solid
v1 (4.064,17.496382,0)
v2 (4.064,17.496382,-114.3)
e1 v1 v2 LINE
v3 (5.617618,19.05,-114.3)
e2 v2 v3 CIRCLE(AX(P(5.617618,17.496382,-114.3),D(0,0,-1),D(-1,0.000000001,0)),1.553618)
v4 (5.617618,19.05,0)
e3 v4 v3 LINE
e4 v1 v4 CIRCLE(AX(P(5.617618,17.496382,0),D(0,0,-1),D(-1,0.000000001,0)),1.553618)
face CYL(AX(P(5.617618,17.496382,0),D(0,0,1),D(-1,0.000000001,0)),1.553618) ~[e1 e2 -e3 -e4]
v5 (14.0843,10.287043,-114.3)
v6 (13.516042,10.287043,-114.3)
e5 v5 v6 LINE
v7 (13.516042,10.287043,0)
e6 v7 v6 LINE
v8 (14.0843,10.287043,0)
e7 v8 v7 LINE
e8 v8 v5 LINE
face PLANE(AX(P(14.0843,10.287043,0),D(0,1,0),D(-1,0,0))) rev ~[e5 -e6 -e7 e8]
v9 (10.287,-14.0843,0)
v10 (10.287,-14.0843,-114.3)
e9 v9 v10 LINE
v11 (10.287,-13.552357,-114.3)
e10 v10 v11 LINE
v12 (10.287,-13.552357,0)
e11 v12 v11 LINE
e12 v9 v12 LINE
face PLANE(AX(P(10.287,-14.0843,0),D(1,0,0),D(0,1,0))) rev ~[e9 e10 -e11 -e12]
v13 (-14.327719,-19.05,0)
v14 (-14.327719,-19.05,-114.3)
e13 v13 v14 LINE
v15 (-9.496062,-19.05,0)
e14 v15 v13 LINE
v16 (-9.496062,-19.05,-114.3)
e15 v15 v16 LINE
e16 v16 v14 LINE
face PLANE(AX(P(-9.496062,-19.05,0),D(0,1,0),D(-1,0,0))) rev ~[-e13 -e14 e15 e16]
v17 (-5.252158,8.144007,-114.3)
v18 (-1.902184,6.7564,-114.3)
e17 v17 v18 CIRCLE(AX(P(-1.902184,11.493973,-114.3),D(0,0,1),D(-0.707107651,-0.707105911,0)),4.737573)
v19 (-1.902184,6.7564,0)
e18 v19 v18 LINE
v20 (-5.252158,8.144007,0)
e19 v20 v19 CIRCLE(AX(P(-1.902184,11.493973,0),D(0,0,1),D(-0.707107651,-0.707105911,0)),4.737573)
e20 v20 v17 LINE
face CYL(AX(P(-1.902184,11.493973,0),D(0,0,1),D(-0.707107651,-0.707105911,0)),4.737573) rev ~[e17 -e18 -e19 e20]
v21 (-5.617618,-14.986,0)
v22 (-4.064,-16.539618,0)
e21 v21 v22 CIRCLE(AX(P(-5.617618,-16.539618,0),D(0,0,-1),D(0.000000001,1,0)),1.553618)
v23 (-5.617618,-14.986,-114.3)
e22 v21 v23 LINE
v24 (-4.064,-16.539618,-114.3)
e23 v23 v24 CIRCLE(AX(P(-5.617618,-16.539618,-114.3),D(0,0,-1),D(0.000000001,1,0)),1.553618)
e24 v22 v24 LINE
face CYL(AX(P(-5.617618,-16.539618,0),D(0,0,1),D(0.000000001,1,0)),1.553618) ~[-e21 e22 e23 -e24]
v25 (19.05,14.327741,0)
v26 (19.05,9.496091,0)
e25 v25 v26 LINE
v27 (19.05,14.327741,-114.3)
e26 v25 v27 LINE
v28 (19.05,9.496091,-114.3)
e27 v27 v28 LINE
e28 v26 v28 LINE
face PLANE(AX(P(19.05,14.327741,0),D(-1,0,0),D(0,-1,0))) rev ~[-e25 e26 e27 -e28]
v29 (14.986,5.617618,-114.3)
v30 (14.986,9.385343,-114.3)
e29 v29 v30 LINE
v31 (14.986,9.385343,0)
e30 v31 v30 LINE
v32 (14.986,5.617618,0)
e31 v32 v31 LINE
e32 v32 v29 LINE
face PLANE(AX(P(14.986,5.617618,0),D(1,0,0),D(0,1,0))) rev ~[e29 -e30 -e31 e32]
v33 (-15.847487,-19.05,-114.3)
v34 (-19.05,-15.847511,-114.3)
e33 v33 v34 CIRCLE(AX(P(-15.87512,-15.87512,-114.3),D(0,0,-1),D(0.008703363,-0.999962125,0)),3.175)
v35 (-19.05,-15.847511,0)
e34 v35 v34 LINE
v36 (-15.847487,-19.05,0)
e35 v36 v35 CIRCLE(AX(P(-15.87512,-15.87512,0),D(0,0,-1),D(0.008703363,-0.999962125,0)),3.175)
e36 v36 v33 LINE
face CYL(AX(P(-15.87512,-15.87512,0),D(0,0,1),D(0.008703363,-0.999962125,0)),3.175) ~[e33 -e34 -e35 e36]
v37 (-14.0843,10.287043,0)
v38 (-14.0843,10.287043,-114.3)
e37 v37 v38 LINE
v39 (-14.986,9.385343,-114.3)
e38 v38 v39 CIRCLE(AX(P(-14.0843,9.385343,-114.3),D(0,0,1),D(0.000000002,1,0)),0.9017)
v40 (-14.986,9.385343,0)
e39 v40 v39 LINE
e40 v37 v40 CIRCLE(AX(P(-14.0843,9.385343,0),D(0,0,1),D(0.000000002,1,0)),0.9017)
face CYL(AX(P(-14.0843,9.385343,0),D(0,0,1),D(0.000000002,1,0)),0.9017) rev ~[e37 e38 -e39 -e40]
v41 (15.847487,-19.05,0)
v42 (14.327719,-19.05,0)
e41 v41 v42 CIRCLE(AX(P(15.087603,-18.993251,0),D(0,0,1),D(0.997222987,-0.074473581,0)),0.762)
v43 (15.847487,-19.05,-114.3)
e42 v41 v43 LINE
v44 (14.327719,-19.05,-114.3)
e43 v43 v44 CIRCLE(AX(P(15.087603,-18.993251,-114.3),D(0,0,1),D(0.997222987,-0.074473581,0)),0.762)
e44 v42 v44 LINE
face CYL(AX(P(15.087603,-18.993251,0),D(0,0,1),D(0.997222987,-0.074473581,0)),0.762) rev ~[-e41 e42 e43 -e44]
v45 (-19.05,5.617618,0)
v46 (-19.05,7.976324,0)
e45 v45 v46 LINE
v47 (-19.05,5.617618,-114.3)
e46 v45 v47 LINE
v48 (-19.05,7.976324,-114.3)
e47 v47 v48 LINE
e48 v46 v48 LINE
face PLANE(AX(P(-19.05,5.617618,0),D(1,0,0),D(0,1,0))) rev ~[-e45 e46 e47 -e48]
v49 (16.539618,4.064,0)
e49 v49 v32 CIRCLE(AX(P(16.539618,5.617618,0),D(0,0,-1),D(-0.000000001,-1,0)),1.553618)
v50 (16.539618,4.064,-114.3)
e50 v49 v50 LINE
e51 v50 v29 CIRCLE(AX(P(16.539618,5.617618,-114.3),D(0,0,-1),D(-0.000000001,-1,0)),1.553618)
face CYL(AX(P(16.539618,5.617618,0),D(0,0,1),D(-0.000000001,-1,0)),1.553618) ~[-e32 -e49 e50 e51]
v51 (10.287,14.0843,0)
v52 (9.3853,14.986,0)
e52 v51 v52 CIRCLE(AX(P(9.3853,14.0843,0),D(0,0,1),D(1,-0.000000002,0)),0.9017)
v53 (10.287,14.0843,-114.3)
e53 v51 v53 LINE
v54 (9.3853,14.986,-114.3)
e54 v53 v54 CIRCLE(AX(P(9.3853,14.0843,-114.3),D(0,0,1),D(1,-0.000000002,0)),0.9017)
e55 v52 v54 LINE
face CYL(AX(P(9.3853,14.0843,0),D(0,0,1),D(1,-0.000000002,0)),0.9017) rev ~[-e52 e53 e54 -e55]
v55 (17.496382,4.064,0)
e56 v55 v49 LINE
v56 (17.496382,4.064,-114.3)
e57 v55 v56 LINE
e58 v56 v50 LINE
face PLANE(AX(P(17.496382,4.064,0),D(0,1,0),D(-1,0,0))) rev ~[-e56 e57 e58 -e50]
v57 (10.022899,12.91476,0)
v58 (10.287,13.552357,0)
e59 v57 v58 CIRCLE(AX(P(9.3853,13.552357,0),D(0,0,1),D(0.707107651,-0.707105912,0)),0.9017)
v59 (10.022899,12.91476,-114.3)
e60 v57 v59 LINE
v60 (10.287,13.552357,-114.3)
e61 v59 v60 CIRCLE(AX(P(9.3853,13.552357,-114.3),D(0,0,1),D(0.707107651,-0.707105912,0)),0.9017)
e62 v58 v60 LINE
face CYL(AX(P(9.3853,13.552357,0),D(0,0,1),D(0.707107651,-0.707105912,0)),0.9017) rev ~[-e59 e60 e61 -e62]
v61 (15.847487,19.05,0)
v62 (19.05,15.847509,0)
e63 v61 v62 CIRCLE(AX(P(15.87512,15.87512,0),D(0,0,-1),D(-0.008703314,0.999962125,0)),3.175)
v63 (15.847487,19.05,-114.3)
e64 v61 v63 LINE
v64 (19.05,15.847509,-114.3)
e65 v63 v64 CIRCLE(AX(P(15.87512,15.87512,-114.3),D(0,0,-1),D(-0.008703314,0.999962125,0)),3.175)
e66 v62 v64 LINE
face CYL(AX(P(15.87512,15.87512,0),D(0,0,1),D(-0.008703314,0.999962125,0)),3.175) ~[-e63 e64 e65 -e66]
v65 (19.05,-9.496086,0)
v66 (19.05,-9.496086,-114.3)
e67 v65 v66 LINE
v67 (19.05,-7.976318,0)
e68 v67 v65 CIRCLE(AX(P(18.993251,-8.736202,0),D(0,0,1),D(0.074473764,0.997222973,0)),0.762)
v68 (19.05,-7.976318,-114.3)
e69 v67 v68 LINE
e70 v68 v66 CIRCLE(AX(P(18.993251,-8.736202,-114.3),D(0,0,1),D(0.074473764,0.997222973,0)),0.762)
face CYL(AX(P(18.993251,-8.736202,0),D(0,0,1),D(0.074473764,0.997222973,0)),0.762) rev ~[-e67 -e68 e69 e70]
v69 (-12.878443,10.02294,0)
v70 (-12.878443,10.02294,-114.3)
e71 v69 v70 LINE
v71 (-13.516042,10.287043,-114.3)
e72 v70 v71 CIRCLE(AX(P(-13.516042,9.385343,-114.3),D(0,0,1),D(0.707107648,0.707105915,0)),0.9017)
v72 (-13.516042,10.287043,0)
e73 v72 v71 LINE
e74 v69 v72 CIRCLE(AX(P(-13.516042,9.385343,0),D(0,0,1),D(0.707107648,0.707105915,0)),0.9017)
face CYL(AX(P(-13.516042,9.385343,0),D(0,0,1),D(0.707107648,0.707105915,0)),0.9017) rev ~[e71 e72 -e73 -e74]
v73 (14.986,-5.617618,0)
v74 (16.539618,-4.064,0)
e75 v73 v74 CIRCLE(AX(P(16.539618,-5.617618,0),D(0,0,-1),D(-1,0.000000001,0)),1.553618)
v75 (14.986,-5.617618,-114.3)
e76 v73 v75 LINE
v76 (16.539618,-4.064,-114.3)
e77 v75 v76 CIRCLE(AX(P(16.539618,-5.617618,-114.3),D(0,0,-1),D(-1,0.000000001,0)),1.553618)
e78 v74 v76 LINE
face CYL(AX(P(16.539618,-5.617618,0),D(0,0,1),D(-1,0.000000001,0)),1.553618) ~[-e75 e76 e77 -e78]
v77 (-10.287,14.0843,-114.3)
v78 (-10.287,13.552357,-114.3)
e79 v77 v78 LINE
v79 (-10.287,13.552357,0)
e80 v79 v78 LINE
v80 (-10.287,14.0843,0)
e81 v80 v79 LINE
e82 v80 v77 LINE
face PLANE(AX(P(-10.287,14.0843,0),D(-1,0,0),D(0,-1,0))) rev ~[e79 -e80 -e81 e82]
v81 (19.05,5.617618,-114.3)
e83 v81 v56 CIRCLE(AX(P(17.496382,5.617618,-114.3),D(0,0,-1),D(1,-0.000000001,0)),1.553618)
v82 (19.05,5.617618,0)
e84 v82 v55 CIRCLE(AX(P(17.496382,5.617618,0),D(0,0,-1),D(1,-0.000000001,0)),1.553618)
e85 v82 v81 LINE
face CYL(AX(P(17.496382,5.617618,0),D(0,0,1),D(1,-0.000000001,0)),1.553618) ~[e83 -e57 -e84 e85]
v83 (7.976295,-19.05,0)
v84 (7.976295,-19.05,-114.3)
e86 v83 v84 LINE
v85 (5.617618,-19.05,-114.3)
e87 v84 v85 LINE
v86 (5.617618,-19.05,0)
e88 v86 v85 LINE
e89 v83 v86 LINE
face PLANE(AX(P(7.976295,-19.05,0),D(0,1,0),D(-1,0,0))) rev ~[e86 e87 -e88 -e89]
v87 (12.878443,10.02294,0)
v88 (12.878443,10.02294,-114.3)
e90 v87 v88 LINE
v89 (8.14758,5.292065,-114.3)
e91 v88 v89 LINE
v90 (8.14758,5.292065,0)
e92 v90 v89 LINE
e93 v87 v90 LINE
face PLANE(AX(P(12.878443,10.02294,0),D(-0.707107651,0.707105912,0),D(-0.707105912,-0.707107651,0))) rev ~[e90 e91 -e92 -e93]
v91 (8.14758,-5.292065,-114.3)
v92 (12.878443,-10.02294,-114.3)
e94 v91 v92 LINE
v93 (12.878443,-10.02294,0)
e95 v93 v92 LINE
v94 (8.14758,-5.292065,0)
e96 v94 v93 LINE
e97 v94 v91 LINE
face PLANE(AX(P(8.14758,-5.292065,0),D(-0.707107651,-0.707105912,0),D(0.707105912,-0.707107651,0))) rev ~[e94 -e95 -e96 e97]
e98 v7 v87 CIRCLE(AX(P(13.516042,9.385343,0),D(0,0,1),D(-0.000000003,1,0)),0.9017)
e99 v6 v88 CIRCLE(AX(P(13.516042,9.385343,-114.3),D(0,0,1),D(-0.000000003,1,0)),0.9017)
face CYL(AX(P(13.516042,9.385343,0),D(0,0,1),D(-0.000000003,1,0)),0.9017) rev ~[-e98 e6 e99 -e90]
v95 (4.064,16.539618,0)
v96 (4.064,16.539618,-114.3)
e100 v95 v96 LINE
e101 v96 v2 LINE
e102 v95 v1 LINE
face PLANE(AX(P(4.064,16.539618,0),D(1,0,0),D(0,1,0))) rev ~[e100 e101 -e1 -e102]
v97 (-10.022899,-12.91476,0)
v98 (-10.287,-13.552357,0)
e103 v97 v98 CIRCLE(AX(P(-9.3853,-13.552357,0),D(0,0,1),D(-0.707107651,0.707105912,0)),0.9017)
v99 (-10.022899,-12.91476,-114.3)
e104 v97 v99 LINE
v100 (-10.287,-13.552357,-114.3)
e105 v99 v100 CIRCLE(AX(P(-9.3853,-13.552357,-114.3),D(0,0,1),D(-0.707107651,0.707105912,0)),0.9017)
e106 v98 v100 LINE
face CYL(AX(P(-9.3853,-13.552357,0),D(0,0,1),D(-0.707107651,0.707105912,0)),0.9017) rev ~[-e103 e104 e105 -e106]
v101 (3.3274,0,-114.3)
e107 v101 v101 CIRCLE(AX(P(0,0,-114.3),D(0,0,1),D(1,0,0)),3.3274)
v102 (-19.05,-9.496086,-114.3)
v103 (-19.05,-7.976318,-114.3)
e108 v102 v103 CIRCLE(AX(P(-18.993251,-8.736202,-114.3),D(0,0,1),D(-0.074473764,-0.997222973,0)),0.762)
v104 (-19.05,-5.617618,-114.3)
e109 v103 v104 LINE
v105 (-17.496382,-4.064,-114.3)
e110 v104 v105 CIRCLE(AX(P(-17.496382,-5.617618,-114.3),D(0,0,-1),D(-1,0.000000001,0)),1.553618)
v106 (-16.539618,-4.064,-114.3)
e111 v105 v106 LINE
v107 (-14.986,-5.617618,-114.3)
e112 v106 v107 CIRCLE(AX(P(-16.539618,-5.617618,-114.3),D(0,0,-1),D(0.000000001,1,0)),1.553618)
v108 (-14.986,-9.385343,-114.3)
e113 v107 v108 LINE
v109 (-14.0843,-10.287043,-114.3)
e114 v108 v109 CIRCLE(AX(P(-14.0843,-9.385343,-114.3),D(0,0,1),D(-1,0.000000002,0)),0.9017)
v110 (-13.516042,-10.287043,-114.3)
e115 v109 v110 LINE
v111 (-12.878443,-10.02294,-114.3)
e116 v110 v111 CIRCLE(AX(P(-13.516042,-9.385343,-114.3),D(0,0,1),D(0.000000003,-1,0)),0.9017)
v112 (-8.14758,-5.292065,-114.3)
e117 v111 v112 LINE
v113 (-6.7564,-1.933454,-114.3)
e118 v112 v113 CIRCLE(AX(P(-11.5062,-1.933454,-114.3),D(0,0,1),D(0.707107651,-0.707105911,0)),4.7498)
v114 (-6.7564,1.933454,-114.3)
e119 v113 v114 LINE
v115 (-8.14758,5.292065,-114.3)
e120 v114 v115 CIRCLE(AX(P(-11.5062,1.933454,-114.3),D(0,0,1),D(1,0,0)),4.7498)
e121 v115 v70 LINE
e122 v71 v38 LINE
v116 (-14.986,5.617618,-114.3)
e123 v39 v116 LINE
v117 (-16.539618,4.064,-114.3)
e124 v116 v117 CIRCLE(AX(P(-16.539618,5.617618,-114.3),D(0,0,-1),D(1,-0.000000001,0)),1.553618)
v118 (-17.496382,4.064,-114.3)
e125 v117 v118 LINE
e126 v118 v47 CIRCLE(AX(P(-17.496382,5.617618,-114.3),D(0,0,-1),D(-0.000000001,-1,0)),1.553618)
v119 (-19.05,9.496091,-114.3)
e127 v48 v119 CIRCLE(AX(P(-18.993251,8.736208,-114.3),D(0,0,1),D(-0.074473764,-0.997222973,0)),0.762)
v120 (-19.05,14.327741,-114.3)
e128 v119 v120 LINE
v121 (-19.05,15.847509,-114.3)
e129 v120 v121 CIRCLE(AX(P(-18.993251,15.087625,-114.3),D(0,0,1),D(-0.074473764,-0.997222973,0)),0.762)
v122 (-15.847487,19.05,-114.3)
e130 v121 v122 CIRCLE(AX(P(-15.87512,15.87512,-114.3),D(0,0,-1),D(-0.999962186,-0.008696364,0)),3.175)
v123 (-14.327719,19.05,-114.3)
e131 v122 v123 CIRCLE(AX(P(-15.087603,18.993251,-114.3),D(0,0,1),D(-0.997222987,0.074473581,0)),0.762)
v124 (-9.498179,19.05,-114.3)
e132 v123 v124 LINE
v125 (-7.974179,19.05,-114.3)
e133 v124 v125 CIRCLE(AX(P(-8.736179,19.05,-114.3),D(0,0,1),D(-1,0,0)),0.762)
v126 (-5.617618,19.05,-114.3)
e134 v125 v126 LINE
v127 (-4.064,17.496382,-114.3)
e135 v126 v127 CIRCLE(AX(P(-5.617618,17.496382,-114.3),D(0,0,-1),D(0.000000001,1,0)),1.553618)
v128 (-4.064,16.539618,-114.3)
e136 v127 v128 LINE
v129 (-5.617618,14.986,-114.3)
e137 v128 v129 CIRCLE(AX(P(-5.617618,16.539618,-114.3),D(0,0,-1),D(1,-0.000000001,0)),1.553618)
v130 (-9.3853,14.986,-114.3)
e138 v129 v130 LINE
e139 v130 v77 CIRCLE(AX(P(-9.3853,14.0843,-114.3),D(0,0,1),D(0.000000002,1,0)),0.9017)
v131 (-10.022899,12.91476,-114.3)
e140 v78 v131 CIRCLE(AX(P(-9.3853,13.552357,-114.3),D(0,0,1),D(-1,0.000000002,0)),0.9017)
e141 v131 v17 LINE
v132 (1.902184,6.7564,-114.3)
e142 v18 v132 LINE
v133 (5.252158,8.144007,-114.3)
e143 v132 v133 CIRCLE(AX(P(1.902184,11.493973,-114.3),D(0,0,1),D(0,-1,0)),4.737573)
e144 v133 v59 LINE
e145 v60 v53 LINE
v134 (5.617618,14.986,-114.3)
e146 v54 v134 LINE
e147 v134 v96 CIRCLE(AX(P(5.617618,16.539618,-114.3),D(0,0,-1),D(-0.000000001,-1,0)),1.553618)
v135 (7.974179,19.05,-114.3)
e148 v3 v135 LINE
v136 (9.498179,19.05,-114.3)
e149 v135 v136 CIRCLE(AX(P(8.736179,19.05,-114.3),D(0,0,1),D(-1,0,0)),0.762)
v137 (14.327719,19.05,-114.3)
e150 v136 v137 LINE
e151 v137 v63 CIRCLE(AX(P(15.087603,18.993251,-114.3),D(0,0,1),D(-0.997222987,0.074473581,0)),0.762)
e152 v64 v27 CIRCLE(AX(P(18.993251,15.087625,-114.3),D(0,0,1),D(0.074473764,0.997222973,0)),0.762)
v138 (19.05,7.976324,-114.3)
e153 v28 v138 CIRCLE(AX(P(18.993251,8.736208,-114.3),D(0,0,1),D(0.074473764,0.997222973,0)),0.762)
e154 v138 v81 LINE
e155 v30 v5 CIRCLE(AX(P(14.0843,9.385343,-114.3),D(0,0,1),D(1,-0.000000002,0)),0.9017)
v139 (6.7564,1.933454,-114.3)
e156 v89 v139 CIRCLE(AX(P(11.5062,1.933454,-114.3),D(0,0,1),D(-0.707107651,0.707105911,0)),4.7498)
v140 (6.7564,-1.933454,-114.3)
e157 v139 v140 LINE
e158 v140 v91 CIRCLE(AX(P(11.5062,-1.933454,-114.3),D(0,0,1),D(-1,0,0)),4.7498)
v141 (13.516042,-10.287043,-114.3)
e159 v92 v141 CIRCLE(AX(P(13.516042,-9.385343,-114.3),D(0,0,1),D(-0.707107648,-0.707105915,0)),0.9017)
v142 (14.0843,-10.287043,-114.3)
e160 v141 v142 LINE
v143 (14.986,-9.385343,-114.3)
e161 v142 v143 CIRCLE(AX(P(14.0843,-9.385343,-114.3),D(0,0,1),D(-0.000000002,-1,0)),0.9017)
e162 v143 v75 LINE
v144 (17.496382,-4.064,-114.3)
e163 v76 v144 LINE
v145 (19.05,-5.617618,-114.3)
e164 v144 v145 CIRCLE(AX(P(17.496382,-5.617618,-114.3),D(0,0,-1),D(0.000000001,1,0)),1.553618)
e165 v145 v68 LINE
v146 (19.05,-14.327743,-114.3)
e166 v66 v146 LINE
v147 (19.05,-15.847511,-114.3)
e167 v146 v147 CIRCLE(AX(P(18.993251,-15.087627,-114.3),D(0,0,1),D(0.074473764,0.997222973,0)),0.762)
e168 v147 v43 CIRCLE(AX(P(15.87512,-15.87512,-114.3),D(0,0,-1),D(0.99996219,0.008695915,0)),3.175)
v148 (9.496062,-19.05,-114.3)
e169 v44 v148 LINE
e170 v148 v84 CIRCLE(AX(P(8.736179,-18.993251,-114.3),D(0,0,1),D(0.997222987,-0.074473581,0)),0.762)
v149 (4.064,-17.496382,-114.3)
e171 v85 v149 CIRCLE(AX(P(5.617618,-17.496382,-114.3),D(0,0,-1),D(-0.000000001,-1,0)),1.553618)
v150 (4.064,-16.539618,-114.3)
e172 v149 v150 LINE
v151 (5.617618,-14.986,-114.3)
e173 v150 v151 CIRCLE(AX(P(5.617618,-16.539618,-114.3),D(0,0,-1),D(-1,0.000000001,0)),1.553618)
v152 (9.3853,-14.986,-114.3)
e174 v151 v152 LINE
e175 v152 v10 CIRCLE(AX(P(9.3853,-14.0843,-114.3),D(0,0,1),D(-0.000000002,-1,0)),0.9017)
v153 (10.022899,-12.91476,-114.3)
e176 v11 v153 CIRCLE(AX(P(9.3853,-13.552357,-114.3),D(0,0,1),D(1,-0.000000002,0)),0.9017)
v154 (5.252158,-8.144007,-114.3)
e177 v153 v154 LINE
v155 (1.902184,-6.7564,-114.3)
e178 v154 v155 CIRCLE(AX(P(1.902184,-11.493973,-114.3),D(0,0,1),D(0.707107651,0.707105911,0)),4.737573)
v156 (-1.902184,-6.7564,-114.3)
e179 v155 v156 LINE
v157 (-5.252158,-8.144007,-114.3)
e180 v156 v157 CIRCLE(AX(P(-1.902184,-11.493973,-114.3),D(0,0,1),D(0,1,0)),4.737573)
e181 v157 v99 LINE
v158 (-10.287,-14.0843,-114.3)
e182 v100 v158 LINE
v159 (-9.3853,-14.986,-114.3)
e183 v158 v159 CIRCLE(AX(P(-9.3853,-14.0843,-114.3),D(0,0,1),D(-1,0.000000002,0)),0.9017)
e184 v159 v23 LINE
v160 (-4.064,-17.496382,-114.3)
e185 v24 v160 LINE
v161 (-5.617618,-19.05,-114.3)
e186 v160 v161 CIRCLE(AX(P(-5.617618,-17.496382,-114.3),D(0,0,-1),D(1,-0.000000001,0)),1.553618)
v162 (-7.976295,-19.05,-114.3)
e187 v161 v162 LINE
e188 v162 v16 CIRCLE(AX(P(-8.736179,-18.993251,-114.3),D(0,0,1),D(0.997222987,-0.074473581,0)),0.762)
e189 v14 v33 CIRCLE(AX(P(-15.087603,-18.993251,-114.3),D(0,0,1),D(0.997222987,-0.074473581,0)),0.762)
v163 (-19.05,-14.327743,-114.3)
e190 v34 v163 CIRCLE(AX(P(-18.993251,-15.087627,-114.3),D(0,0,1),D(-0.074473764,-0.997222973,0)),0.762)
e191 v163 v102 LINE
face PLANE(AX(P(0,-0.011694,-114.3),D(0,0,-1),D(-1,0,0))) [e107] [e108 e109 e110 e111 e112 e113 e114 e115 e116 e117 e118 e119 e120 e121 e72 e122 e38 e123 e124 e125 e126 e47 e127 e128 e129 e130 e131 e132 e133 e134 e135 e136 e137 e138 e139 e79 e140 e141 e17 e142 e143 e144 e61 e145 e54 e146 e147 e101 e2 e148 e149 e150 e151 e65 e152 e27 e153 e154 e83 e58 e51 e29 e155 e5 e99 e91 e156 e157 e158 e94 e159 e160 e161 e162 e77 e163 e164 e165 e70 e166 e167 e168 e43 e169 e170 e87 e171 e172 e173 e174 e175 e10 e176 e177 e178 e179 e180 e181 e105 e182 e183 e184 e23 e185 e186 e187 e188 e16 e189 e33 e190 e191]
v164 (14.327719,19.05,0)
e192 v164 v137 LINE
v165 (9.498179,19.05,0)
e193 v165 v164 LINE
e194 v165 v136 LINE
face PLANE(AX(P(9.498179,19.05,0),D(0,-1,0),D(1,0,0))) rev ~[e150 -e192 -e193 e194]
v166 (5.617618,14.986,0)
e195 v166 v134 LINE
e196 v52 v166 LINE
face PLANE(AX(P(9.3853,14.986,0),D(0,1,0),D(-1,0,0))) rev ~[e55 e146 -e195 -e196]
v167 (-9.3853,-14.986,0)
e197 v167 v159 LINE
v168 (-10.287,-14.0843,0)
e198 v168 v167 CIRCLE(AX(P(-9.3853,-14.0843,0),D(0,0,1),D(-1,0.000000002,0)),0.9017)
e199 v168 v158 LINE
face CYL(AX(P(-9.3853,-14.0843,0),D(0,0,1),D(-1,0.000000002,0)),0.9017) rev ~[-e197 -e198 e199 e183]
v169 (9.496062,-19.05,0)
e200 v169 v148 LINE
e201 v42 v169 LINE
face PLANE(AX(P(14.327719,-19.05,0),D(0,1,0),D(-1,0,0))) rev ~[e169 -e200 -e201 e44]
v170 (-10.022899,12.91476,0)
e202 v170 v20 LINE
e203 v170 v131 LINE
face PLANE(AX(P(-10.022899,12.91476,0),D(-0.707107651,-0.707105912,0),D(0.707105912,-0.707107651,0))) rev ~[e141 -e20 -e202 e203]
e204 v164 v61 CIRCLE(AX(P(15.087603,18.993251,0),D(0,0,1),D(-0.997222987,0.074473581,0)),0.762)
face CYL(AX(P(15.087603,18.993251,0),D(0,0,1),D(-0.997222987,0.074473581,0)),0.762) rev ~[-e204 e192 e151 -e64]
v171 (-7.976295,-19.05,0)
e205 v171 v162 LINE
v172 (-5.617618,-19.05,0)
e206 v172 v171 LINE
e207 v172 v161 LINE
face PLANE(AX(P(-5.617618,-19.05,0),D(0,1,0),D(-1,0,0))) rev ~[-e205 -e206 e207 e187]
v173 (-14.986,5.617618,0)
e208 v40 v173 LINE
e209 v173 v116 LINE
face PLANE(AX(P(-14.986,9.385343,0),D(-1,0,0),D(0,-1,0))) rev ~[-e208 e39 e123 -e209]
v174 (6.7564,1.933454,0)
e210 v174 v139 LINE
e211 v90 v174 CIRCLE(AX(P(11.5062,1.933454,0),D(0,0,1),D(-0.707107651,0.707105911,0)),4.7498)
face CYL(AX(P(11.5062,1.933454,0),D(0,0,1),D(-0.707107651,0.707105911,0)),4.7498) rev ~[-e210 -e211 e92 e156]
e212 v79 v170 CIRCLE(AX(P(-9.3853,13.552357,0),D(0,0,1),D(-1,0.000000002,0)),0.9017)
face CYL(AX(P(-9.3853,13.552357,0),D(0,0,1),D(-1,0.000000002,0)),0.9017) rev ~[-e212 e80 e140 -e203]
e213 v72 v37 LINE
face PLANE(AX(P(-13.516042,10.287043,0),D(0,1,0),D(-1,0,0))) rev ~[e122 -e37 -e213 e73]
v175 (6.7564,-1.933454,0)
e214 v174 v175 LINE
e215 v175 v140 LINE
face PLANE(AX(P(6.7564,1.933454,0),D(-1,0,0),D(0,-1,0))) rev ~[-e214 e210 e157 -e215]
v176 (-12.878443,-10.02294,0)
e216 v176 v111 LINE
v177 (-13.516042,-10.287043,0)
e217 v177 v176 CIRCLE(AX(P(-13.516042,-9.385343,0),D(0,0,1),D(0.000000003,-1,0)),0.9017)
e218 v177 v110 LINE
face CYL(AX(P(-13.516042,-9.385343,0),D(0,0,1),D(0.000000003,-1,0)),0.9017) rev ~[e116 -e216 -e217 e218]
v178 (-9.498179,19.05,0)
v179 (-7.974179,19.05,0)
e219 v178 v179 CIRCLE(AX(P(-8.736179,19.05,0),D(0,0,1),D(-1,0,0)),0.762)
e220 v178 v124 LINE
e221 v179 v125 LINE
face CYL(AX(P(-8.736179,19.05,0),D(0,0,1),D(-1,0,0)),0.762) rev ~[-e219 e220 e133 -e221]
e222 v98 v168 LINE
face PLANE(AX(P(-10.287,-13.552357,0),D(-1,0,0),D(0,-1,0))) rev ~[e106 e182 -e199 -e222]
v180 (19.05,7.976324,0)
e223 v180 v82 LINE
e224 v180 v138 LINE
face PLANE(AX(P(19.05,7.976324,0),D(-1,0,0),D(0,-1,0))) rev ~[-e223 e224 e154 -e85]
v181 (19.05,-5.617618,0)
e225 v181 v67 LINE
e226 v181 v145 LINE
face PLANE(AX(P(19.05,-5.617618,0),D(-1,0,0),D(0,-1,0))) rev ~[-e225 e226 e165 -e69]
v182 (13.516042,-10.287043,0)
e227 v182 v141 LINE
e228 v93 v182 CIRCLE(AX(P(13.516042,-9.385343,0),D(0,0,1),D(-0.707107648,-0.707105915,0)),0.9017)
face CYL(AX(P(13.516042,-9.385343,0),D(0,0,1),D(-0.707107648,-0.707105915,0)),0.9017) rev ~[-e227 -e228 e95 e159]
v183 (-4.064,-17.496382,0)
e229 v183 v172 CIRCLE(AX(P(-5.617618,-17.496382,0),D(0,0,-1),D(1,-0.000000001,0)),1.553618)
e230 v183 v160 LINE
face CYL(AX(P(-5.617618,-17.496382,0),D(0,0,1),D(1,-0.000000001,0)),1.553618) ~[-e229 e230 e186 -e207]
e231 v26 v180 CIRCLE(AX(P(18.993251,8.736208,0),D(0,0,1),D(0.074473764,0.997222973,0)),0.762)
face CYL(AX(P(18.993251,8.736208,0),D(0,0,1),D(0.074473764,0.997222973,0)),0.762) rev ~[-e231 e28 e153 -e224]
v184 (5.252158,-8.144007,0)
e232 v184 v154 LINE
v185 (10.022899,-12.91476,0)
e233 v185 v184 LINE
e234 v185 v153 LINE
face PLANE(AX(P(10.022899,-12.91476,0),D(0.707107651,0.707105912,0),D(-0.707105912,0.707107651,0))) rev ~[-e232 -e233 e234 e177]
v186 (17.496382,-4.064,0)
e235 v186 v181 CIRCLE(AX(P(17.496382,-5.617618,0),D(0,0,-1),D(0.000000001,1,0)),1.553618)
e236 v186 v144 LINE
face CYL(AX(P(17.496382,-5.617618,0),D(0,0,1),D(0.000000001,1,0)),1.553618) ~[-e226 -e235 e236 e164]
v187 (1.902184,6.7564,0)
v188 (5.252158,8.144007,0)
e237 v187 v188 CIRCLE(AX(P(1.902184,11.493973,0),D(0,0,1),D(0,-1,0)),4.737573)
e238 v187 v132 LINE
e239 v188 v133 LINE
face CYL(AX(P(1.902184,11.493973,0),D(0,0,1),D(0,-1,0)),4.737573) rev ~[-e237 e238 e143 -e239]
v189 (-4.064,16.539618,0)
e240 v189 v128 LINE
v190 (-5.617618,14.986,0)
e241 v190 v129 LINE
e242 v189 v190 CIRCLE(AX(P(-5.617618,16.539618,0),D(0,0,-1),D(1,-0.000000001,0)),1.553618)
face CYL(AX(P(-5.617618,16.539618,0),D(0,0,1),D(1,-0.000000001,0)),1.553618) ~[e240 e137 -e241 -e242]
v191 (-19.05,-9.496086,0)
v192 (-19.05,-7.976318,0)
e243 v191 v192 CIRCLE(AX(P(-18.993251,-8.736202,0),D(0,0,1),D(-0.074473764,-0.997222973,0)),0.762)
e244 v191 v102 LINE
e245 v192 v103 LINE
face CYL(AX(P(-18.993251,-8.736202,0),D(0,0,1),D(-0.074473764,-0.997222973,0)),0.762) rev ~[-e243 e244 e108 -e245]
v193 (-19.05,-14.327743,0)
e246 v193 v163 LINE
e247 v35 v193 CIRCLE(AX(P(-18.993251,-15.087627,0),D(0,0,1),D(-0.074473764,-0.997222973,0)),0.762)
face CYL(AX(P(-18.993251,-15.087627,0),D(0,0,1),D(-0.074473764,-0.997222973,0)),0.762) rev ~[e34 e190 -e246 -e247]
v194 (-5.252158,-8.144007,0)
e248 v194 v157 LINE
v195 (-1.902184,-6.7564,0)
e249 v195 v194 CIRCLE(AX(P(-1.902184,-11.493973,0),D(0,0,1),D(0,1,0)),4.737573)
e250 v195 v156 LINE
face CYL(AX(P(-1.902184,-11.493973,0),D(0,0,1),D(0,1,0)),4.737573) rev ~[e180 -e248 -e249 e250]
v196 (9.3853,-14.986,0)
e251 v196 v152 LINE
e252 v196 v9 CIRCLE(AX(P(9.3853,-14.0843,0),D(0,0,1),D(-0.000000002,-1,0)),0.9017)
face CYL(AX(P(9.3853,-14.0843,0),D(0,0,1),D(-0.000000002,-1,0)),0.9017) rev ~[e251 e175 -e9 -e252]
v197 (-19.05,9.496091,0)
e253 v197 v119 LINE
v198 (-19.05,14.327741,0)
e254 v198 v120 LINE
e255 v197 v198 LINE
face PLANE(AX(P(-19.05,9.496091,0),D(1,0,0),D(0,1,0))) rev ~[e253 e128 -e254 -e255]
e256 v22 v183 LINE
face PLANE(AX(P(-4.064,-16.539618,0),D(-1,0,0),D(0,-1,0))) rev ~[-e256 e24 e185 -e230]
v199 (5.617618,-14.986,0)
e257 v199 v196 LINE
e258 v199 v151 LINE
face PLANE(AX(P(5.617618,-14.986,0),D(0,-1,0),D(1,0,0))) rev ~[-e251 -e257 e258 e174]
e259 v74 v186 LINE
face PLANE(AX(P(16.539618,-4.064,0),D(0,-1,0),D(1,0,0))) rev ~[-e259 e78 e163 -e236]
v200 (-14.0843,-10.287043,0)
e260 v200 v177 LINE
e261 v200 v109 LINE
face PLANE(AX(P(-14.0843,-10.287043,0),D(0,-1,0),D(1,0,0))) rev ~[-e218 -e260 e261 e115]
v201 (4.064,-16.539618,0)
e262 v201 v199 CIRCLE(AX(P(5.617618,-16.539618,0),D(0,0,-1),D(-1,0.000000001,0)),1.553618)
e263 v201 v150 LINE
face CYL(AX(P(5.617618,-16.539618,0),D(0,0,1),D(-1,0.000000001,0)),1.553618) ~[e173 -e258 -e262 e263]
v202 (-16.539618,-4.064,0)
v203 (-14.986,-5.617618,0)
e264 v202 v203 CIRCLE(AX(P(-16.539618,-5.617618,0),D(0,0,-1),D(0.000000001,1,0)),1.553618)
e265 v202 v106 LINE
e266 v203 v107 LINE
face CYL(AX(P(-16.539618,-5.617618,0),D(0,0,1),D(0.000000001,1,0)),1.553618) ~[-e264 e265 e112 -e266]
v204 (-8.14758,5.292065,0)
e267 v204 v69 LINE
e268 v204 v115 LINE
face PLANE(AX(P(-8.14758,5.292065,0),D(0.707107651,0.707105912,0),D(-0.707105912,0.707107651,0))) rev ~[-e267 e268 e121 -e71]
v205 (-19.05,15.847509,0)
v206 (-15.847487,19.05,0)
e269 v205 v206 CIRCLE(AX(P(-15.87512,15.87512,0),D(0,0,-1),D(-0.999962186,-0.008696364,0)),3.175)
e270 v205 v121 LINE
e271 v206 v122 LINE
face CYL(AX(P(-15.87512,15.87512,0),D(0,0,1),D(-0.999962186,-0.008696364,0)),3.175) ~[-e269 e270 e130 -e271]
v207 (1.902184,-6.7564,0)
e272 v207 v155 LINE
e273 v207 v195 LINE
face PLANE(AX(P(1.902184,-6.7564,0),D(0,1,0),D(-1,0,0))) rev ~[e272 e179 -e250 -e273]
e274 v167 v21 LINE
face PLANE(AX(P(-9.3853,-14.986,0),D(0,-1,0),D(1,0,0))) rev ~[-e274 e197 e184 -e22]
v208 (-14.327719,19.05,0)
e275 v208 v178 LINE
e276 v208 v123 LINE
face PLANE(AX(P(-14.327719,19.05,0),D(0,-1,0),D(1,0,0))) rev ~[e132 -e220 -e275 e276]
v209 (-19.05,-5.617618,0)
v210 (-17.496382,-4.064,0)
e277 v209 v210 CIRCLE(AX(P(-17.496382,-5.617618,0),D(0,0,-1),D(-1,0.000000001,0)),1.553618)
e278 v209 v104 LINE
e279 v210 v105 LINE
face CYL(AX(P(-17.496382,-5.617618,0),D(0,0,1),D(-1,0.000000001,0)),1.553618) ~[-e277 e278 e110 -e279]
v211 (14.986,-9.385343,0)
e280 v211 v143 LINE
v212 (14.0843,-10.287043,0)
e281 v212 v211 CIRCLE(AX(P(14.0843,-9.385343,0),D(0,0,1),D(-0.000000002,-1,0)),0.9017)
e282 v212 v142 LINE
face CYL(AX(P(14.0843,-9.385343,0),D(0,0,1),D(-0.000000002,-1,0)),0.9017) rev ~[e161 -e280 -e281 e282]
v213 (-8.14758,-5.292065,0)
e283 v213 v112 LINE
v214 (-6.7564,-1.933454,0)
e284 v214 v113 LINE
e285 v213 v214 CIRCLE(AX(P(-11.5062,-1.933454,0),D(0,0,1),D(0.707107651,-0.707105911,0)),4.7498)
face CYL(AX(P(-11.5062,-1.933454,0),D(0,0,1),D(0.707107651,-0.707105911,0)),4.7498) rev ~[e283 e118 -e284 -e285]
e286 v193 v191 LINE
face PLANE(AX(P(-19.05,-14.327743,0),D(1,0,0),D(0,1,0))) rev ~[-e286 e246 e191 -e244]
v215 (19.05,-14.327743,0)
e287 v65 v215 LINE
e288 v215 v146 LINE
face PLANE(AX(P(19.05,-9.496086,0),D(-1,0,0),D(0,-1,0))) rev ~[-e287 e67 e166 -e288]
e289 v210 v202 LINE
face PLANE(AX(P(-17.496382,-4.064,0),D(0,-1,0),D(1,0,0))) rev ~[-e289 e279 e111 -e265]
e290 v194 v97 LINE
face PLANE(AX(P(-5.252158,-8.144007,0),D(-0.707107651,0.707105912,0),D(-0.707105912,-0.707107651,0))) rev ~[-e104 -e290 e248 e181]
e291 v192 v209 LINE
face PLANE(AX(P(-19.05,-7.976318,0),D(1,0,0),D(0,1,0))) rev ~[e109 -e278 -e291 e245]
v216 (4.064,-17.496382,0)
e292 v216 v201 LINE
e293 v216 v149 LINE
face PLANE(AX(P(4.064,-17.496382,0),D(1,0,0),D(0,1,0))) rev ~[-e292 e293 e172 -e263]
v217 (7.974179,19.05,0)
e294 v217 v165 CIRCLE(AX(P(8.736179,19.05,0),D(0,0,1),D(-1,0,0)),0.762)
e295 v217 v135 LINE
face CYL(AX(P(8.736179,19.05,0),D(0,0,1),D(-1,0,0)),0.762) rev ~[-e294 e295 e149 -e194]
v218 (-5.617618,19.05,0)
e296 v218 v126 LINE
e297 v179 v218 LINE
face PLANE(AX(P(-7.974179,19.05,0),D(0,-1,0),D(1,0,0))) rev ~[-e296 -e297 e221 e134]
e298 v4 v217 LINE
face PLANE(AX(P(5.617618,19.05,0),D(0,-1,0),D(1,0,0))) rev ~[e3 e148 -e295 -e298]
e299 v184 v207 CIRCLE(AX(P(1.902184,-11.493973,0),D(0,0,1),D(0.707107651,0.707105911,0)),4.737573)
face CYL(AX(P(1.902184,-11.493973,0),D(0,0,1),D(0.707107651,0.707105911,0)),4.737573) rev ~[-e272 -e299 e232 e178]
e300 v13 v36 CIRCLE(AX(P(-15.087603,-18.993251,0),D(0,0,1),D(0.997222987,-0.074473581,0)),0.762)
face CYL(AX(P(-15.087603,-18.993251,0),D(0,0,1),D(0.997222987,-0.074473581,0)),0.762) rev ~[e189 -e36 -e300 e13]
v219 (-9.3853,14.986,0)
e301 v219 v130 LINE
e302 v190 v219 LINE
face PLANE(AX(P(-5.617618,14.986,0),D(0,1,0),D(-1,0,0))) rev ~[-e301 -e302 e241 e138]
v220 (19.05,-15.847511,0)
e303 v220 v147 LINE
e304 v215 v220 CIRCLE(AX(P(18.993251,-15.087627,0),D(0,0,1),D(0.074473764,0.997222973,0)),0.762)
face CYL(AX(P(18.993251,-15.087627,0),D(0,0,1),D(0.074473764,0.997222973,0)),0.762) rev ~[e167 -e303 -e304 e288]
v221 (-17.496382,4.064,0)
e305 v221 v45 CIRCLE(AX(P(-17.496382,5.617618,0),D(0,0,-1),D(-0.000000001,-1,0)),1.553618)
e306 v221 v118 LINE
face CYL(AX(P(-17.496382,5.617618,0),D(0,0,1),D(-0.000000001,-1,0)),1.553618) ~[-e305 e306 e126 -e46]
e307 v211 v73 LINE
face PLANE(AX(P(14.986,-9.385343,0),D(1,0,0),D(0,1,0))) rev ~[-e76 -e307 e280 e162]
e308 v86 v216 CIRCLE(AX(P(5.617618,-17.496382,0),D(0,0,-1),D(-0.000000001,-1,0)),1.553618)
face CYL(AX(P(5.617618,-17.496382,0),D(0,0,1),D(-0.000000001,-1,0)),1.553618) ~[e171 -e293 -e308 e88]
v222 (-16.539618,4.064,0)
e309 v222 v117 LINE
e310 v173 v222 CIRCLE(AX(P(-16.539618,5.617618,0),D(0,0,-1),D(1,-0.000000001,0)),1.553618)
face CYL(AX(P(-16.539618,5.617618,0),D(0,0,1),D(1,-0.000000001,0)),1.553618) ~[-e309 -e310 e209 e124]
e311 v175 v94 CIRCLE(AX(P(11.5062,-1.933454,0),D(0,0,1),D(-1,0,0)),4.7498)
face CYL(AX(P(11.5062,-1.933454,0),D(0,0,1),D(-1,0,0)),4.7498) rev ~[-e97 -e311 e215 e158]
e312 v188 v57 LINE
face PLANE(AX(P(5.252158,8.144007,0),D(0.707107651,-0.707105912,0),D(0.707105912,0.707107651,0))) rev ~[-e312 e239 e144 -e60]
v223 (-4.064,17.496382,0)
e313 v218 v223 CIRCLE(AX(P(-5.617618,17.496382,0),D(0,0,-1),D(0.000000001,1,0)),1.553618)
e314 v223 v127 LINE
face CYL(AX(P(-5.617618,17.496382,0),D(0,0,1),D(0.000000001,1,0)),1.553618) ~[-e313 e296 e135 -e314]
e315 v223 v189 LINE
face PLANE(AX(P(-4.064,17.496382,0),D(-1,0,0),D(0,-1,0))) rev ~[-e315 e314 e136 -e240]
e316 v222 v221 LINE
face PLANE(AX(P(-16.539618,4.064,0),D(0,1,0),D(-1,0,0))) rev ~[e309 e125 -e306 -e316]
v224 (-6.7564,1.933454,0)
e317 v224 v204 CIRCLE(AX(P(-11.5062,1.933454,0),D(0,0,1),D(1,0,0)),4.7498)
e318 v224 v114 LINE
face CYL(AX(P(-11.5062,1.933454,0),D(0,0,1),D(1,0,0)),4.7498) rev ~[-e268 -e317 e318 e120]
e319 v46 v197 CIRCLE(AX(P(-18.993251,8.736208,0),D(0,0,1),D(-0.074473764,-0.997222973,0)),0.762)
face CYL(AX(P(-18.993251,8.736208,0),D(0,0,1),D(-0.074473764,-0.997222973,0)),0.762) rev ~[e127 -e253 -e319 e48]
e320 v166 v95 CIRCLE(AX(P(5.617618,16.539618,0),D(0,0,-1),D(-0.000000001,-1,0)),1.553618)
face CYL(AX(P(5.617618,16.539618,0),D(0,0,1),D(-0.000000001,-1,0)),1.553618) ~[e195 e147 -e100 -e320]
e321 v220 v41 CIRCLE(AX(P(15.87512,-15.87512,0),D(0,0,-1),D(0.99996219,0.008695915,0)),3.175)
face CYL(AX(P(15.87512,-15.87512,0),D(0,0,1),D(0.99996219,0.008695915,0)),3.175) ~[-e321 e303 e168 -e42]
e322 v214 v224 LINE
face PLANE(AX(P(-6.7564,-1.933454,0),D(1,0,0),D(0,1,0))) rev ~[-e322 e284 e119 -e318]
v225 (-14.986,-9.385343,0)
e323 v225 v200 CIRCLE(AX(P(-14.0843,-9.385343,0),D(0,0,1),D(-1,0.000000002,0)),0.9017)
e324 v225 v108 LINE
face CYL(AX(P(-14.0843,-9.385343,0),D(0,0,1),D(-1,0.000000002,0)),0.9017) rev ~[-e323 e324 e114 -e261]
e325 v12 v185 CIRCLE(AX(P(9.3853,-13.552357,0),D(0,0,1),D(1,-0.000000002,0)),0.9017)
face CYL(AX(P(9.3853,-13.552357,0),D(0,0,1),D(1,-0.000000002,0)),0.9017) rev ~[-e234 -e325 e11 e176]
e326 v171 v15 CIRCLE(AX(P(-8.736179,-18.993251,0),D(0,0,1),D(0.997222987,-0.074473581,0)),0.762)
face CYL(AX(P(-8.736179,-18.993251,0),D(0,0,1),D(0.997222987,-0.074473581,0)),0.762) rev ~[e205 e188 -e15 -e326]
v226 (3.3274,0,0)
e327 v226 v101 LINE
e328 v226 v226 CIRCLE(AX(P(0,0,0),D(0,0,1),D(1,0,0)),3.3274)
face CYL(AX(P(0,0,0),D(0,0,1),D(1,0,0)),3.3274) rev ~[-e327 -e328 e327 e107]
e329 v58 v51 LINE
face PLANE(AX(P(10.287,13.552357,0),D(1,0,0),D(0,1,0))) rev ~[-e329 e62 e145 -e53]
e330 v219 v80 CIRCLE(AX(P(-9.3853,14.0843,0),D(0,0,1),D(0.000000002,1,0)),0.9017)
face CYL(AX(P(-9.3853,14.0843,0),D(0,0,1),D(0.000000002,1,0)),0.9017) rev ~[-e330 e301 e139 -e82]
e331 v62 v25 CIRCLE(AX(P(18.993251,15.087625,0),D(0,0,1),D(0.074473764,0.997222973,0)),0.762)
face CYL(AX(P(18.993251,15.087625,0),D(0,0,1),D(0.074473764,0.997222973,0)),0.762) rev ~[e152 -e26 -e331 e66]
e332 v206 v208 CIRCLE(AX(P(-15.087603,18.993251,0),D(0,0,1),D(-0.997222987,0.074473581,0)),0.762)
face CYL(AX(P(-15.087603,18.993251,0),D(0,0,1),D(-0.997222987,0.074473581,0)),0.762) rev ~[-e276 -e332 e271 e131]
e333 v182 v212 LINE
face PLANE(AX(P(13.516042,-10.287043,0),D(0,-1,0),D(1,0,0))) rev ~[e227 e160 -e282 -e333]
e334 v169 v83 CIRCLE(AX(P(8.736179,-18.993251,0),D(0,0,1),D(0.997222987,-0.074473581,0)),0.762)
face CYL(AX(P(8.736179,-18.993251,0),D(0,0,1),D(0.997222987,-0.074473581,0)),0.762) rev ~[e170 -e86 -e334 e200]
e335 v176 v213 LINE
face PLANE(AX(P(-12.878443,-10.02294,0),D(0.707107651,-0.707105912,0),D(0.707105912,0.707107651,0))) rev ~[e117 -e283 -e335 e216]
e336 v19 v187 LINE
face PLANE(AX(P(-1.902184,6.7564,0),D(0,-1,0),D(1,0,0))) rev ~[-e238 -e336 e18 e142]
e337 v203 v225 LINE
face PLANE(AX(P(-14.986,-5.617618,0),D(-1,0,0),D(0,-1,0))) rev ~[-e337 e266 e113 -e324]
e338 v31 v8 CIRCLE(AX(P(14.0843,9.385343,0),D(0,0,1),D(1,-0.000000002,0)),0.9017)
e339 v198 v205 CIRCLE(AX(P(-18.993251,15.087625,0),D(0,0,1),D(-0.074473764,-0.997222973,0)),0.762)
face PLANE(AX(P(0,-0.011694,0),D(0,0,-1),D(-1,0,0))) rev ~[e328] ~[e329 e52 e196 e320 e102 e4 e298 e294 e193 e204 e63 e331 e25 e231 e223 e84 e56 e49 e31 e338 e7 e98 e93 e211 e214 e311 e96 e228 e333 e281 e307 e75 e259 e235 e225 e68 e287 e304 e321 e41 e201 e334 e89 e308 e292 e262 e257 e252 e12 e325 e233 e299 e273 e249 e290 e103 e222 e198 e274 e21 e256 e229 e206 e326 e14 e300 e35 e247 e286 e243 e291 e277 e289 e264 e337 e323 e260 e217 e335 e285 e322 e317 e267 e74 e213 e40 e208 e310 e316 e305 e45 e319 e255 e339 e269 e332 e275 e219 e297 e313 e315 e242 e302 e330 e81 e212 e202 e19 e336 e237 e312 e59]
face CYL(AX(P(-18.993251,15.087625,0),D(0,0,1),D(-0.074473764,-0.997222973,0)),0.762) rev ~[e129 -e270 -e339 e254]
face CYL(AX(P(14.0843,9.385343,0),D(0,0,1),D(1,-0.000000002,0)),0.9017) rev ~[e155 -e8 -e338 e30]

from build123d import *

# Parameters (mm, degrees)
SKETCH1_R      = 3.3274
EXTRUDE1_DEPTH = 114.3


with BuildPart() as part:
    # Sketch1 → Extrude1 (new body)
    with BuildSketch(Plane.XY):
        with BuildLine():
            Line((-10.022898969, 12.91475973), (-5.252158105, 8.144007132))
            ThreePointArc((-5.252158105, 8.144007132), (-3.715177372, 7.117027388), (-1.902183975, 6.7564))
            Line((-1.902183975, 6.7564), (1.902183975, 6.7564))
            ThreePointArc((1.902183975, 6.7564), (3.715177372, 7.117027388), (5.252158105, 8.144007132))
            Line((5.252158105, 8.144007132), (10.022898969, 12.91475973))
            ThreePointArc((10.022898969, 12.91475973), (10.218362387, 13.207291992), (10.287, 13.552357131))
            Line((10.287, 13.552357131), (10.287, 14.0843))
            ThreePointArc((10.287, 14.0843), (10.022898185, 14.721898185), (9.3853, 14.986))
            Line((9.3853, 14.986), (5.617617549, 14.986))
            ThreePointArc((5.617617549, 14.986), (4.519044045, 15.441044045), (4.064, 16.539617549))
            Line((4.064, 16.539617549), (4.064, 17.496382451))
            ThreePointArc((4.064, 17.496382451), (4.519044045, 18.594955955), (5.617617549, 19.05))
            Line((5.617617549, 19.05), (7.974178704, 19.05))
            ThreePointArc((7.974178704, 19.05), (8.736178704, 18.288), (9.498178704, 19.05))
            Line((9.498178704, 19.05), (14.327719207, 19.05))
            ThreePointArc((14.327719207, 19.05), (15.087603123, 18.231251131), (15.847487039, 19.05))
            ThreePointArc((15.847487039, 19.05), (18.120176289, 18.120192083), (19.05, 15.847509295))
            ThreePointArc((19.05, 15.847509295), (18.231250992, 15.08762539), (19.05, 14.327741484))
            Line((19.05, 14.327741484), (19.05, 9.496091471))
            ThreePointArc((19.05, 9.496091471), (18.231250992, 8.736207565), (19.05, 7.97632366))
            Line((19.05, 7.97632366), (19.05, 5.617617549))
            ThreePointArc((19.05, 5.617617549), (18.594955955, 4.519044045), (17.496382451, 4.064))
            Line((17.496382451, 4.064), (16.539617549, 4.064))
            ThreePointArc((16.539617549, 4.064), (15.441044045, 4.519044045), (14.986, 5.617617549))
            Line((14.986, 5.617617549), (14.986, 9.385342516))
            ThreePointArc((14.986, 9.385342516), (14.721898185, 10.022940701), (14.0843, 10.287042516))
            Line((14.0843, 10.287042516), (13.516042086, 10.287042516))
            ThreePointArc((13.516042086, 10.287042516), (13.170975923, 10.218404478), (12.878443117, 10.022939917))
            Line((12.878443117, 10.022939917), (8.14758008, 5.292065243))
            ThreePointArc((8.14758008, 5.292065243), (7.117955879, 3.751120653), (6.7564, 1.933453584))
            Line((6.7564, 1.933453584), (6.7564, -1.933453584))
            ThreePointArc((6.7564, -1.933453584), (7.117955879, -3.751120653), (8.14758008, -5.292065243))
            Line((8.14758008, -5.292065243), (12.878443117, -10.022939917))
            ThreePointArc((12.878443117, -10.022939917), (13.170975923, -10.218404478), (13.516042086, -10.287042516))
            Line((13.516042086, -10.287042516), (14.0843, -10.287042516))
            ThreePointArc((14.0843, -10.287042516), (14.721898185, -10.022940701), (14.986, -9.385342516))
            Line((14.986, -9.385342516), (14.986, -5.617617549))
            ThreePointArc((14.986, -5.617617549), (15.441044045, -4.519044045), (16.539617549, -4.064))
            Line((16.539617549, -4.064), (17.496382451, -4.064))
            ThreePointArc((17.496382451, -4.064), (18.594955955, -4.519044045), (19.05, -5.617617549))
            Line((19.05, -5.617617549), (19.05, -7.976318491))
            ThreePointArc((19.05, -7.976318491), (18.231250992, -8.736202396), (19.05, -9.496086302))
            Line((19.05, -9.496086302), (19.05, -14.32774291))
            ThreePointArc((19.05, -14.32774291), (18.231250992, -15.087626816), (19.05, -15.847510721))
            ThreePointArc((19.05, -15.847510721), (18.120175716, -18.120192644), (15.847486868, -19.05))
            ThreePointArc((15.847486868, -19.05), (15.087602952, -18.231251131), (14.327719036, -19.05))
            Line((14.327719036, -19.05), (9.496062448, -19.05))
            ThreePointArc((9.496062448, -19.05), (8.736178532, -18.231251131), (7.976294616, -19.05))
            Line((7.976294616, -19.05), (5.617617549, -19.05))
            ThreePointArc((5.617617549, -19.05), (4.519044045, -18.594955955), (4.064, -17.496382451))
            Line((4.064, -17.496382451), (4.064, -16.539617549))
            ThreePointArc((4.064, -16.539617549), (4.519044045, -15.441044045), (5.617617549, -14.986))
            Line((5.617617549, -14.986), (9.3853, -14.986))
            ThreePointArc((9.3853, -14.986), (10.022898185, -14.721898185), (10.287, -14.0843))
            Line((10.287, -14.0843), (10.287, -13.552357131))
            ThreePointArc((10.287, -13.552357131), (10.218362387, -13.207291992), (10.022898969, -12.91475973))
            Line((10.022898969, -12.91475973), (5.252158105, -8.144007132))
            ThreePointArc((5.252158105, -8.144007132), (3.715177372, -7.117027388), (1.902183975, -6.7564))
            Line((1.902183975, -6.7564), (-1.902183975, -6.7564))
            ThreePointArc((-1.902183975, -6.7564), (-3.715177372, -7.117027388), (-5.252158105, -8.144007132))
            Line((-5.252158105, -8.144007132), (-10.022898969, -12.91475973))
            ThreePointArc((-10.022898969, -12.91475973), (-10.218362387, -13.207291992), (-10.287, -13.552357131))
            Line((-10.287, -13.552357131), (-10.287, -14.0843))
            ThreePointArc((-10.287, -14.0843), (-10.022898185, -14.721898185), (-9.3853, -14.986))
            Line((-9.3853, -14.986), (-5.617617549, -14.986))
            ThreePointArc((-5.617617549, -14.986), (-4.519044045, -15.441044045), (-4.064, -16.539617549))
            Line((-4.064, -16.539617549), (-4.064, -17.496382451))
            ThreePointArc((-4.064, -17.496382451), (-4.519044045, -18.594955955), (-5.617617549, -19.05))
            Line((-5.617617549, -19.05), (-7.976294616, -19.05))
            ThreePointArc((-7.976294616, -19.05), (-8.736178532, -18.231251131), (-9.496062448, -19.05))
            Line((-9.496062448, -19.05), (-14.327719036, -19.05))
            ThreePointArc((-14.327719036, -19.05), (-15.087602952, -18.231251131), (-15.847486868, -19.05))
            ThreePointArc((-15.847486868, -19.05), (-18.120175716, -18.120192644), (-19.05, -15.847510721))
            ThreePointArc((-19.05, -15.847510721), (-18.231250992, -15.087626816), (-19.05, -14.32774291))
            Line((-19.05, -14.32774291), (-19.05, -9.496086302))
            ThreePointArc((-19.05, -9.496086302), (-18.231250992, -8.736202396), (-19.05, -7.976318491))
            Line((-19.05, -7.976318491), (-19.05, -5.617617549))
            ThreePointArc((-19.05, -5.617617549), (-18.594955955, -4.519044045), (-17.496382451, -4.064))
            Line((-17.496382451, -4.064), (-16.539617549, -4.064))
            ThreePointArc((-16.539617549, -4.064), (-15.441044045, -4.519044045), (-14.986, -5.617617549))
            Line((-14.986, -5.617617549), (-14.986, -9.385342516))
            ThreePointArc((-14.986, -9.385342516), (-14.721898185, -10.022940701), (-14.0843, -10.287042516))
            Line((-14.0843, -10.287042516), (-13.516042086, -10.287042516))
            ThreePointArc((-13.516042086, -10.287042516), (-13.170975923, -10.218404478), (-12.878443117, -10.022939917))
            Line((-12.878443117, -10.022939917), (-8.14758008, -5.292065243))
            ThreePointArc((-8.14758008, -5.292065243), (-7.117955879, -3.751120653), (-6.7564, -1.933453584))
            Line((-6.7564, -1.933453584), (-6.7564, 1.933453584))
            ThreePointArc((-6.7564, 1.933453584), (-7.117955879, 3.751120653), (-8.14758008, 5.292065243))
            Line((-8.14758008, 5.292065243), (-12.878443117, 10.022939917))
            ThreePointArc((-12.878443117, 10.022939917), (-13.170975923, 10.218404478), (-13.516042086, 10.287042516))
            Line((-13.516042086, 10.287042516), (-14.0843, 10.287042516))
            ThreePointArc((-14.0843, 10.287042516), (-14.721898185, 10.022940701), (-14.986, 9.385342516))
            Line((-14.986, 9.385342516), (-14.986, 5.617617549))
            ThreePointArc((-14.986, 5.617617549), (-15.441044045, 4.519044045), (-16.539617549, 4.064))
            Line((-16.539617549, 4.064), (-17.496382451, 4.064))
            ThreePointArc((-17.496382451, 4.064), (-18.594955955, 4.519044045), (-19.05, 5.617617549))
            Line((-19.05, 5.617617549), (-19.05, 7.97632366))
            ThreePointArc((-19.05, 7.97632366), (-18.231250992, 8.736207565), (-19.05, 9.496091471))
            Line((-19.05, 9.496091471), (-19.05, 14.327741484))
            ThreePointArc((-19.05, 14.327741484), (-18.231250992, 15.08762539), (-19.05, 15.847509295))
            ThreePointArc((-19.05, 15.847509295), (-18.120176289, 18.120192083), (-15.847487039, 19.05))
            ThreePointArc((-15.847487039, 19.05), (-15.087603123, 18.231251131), (-14.327719207, 19.05))
            Line((-14.327719207, 19.05), (-9.498178704, 19.05))
            ThreePointArc((-9.498178704, 19.05), (-8.736178704, 18.288), (-7.974178704, 19.05))
            Line((-7.974178704, 19.05), (-5.617617549, 19.05))
            ThreePointArc((-5.617617549, 19.05), (-4.519044045, 18.594955955), (-4.064, 17.496382451))
            Line((-4.064, 17.496382451), (-4.064, 16.539617549))
            ThreePointArc((-4.064, 16.539617549), (-4.519044045, 15.441044045), (-5.617617549, 14.986))
            Line((-5.617617549, 14.986), (-9.3853, 14.986))
            ThreePointArc((-9.3853, 14.986), (-10.022898185, 14.721898185), (-10.287, 14.0843))
            Line((-10.287, 14.0843), (-10.287, 13.552357131))
            ThreePointArc((-10.287, 13.552357131), (-10.218362387, 13.207291992), (-10.022898969, 12.91475973))
        make_face()
        Circle(SKETCH1_R, mode=Mode.SUBTRACT)
    extrude(amount=-EXTRUDE1_DEPTH)


solid = part.part
